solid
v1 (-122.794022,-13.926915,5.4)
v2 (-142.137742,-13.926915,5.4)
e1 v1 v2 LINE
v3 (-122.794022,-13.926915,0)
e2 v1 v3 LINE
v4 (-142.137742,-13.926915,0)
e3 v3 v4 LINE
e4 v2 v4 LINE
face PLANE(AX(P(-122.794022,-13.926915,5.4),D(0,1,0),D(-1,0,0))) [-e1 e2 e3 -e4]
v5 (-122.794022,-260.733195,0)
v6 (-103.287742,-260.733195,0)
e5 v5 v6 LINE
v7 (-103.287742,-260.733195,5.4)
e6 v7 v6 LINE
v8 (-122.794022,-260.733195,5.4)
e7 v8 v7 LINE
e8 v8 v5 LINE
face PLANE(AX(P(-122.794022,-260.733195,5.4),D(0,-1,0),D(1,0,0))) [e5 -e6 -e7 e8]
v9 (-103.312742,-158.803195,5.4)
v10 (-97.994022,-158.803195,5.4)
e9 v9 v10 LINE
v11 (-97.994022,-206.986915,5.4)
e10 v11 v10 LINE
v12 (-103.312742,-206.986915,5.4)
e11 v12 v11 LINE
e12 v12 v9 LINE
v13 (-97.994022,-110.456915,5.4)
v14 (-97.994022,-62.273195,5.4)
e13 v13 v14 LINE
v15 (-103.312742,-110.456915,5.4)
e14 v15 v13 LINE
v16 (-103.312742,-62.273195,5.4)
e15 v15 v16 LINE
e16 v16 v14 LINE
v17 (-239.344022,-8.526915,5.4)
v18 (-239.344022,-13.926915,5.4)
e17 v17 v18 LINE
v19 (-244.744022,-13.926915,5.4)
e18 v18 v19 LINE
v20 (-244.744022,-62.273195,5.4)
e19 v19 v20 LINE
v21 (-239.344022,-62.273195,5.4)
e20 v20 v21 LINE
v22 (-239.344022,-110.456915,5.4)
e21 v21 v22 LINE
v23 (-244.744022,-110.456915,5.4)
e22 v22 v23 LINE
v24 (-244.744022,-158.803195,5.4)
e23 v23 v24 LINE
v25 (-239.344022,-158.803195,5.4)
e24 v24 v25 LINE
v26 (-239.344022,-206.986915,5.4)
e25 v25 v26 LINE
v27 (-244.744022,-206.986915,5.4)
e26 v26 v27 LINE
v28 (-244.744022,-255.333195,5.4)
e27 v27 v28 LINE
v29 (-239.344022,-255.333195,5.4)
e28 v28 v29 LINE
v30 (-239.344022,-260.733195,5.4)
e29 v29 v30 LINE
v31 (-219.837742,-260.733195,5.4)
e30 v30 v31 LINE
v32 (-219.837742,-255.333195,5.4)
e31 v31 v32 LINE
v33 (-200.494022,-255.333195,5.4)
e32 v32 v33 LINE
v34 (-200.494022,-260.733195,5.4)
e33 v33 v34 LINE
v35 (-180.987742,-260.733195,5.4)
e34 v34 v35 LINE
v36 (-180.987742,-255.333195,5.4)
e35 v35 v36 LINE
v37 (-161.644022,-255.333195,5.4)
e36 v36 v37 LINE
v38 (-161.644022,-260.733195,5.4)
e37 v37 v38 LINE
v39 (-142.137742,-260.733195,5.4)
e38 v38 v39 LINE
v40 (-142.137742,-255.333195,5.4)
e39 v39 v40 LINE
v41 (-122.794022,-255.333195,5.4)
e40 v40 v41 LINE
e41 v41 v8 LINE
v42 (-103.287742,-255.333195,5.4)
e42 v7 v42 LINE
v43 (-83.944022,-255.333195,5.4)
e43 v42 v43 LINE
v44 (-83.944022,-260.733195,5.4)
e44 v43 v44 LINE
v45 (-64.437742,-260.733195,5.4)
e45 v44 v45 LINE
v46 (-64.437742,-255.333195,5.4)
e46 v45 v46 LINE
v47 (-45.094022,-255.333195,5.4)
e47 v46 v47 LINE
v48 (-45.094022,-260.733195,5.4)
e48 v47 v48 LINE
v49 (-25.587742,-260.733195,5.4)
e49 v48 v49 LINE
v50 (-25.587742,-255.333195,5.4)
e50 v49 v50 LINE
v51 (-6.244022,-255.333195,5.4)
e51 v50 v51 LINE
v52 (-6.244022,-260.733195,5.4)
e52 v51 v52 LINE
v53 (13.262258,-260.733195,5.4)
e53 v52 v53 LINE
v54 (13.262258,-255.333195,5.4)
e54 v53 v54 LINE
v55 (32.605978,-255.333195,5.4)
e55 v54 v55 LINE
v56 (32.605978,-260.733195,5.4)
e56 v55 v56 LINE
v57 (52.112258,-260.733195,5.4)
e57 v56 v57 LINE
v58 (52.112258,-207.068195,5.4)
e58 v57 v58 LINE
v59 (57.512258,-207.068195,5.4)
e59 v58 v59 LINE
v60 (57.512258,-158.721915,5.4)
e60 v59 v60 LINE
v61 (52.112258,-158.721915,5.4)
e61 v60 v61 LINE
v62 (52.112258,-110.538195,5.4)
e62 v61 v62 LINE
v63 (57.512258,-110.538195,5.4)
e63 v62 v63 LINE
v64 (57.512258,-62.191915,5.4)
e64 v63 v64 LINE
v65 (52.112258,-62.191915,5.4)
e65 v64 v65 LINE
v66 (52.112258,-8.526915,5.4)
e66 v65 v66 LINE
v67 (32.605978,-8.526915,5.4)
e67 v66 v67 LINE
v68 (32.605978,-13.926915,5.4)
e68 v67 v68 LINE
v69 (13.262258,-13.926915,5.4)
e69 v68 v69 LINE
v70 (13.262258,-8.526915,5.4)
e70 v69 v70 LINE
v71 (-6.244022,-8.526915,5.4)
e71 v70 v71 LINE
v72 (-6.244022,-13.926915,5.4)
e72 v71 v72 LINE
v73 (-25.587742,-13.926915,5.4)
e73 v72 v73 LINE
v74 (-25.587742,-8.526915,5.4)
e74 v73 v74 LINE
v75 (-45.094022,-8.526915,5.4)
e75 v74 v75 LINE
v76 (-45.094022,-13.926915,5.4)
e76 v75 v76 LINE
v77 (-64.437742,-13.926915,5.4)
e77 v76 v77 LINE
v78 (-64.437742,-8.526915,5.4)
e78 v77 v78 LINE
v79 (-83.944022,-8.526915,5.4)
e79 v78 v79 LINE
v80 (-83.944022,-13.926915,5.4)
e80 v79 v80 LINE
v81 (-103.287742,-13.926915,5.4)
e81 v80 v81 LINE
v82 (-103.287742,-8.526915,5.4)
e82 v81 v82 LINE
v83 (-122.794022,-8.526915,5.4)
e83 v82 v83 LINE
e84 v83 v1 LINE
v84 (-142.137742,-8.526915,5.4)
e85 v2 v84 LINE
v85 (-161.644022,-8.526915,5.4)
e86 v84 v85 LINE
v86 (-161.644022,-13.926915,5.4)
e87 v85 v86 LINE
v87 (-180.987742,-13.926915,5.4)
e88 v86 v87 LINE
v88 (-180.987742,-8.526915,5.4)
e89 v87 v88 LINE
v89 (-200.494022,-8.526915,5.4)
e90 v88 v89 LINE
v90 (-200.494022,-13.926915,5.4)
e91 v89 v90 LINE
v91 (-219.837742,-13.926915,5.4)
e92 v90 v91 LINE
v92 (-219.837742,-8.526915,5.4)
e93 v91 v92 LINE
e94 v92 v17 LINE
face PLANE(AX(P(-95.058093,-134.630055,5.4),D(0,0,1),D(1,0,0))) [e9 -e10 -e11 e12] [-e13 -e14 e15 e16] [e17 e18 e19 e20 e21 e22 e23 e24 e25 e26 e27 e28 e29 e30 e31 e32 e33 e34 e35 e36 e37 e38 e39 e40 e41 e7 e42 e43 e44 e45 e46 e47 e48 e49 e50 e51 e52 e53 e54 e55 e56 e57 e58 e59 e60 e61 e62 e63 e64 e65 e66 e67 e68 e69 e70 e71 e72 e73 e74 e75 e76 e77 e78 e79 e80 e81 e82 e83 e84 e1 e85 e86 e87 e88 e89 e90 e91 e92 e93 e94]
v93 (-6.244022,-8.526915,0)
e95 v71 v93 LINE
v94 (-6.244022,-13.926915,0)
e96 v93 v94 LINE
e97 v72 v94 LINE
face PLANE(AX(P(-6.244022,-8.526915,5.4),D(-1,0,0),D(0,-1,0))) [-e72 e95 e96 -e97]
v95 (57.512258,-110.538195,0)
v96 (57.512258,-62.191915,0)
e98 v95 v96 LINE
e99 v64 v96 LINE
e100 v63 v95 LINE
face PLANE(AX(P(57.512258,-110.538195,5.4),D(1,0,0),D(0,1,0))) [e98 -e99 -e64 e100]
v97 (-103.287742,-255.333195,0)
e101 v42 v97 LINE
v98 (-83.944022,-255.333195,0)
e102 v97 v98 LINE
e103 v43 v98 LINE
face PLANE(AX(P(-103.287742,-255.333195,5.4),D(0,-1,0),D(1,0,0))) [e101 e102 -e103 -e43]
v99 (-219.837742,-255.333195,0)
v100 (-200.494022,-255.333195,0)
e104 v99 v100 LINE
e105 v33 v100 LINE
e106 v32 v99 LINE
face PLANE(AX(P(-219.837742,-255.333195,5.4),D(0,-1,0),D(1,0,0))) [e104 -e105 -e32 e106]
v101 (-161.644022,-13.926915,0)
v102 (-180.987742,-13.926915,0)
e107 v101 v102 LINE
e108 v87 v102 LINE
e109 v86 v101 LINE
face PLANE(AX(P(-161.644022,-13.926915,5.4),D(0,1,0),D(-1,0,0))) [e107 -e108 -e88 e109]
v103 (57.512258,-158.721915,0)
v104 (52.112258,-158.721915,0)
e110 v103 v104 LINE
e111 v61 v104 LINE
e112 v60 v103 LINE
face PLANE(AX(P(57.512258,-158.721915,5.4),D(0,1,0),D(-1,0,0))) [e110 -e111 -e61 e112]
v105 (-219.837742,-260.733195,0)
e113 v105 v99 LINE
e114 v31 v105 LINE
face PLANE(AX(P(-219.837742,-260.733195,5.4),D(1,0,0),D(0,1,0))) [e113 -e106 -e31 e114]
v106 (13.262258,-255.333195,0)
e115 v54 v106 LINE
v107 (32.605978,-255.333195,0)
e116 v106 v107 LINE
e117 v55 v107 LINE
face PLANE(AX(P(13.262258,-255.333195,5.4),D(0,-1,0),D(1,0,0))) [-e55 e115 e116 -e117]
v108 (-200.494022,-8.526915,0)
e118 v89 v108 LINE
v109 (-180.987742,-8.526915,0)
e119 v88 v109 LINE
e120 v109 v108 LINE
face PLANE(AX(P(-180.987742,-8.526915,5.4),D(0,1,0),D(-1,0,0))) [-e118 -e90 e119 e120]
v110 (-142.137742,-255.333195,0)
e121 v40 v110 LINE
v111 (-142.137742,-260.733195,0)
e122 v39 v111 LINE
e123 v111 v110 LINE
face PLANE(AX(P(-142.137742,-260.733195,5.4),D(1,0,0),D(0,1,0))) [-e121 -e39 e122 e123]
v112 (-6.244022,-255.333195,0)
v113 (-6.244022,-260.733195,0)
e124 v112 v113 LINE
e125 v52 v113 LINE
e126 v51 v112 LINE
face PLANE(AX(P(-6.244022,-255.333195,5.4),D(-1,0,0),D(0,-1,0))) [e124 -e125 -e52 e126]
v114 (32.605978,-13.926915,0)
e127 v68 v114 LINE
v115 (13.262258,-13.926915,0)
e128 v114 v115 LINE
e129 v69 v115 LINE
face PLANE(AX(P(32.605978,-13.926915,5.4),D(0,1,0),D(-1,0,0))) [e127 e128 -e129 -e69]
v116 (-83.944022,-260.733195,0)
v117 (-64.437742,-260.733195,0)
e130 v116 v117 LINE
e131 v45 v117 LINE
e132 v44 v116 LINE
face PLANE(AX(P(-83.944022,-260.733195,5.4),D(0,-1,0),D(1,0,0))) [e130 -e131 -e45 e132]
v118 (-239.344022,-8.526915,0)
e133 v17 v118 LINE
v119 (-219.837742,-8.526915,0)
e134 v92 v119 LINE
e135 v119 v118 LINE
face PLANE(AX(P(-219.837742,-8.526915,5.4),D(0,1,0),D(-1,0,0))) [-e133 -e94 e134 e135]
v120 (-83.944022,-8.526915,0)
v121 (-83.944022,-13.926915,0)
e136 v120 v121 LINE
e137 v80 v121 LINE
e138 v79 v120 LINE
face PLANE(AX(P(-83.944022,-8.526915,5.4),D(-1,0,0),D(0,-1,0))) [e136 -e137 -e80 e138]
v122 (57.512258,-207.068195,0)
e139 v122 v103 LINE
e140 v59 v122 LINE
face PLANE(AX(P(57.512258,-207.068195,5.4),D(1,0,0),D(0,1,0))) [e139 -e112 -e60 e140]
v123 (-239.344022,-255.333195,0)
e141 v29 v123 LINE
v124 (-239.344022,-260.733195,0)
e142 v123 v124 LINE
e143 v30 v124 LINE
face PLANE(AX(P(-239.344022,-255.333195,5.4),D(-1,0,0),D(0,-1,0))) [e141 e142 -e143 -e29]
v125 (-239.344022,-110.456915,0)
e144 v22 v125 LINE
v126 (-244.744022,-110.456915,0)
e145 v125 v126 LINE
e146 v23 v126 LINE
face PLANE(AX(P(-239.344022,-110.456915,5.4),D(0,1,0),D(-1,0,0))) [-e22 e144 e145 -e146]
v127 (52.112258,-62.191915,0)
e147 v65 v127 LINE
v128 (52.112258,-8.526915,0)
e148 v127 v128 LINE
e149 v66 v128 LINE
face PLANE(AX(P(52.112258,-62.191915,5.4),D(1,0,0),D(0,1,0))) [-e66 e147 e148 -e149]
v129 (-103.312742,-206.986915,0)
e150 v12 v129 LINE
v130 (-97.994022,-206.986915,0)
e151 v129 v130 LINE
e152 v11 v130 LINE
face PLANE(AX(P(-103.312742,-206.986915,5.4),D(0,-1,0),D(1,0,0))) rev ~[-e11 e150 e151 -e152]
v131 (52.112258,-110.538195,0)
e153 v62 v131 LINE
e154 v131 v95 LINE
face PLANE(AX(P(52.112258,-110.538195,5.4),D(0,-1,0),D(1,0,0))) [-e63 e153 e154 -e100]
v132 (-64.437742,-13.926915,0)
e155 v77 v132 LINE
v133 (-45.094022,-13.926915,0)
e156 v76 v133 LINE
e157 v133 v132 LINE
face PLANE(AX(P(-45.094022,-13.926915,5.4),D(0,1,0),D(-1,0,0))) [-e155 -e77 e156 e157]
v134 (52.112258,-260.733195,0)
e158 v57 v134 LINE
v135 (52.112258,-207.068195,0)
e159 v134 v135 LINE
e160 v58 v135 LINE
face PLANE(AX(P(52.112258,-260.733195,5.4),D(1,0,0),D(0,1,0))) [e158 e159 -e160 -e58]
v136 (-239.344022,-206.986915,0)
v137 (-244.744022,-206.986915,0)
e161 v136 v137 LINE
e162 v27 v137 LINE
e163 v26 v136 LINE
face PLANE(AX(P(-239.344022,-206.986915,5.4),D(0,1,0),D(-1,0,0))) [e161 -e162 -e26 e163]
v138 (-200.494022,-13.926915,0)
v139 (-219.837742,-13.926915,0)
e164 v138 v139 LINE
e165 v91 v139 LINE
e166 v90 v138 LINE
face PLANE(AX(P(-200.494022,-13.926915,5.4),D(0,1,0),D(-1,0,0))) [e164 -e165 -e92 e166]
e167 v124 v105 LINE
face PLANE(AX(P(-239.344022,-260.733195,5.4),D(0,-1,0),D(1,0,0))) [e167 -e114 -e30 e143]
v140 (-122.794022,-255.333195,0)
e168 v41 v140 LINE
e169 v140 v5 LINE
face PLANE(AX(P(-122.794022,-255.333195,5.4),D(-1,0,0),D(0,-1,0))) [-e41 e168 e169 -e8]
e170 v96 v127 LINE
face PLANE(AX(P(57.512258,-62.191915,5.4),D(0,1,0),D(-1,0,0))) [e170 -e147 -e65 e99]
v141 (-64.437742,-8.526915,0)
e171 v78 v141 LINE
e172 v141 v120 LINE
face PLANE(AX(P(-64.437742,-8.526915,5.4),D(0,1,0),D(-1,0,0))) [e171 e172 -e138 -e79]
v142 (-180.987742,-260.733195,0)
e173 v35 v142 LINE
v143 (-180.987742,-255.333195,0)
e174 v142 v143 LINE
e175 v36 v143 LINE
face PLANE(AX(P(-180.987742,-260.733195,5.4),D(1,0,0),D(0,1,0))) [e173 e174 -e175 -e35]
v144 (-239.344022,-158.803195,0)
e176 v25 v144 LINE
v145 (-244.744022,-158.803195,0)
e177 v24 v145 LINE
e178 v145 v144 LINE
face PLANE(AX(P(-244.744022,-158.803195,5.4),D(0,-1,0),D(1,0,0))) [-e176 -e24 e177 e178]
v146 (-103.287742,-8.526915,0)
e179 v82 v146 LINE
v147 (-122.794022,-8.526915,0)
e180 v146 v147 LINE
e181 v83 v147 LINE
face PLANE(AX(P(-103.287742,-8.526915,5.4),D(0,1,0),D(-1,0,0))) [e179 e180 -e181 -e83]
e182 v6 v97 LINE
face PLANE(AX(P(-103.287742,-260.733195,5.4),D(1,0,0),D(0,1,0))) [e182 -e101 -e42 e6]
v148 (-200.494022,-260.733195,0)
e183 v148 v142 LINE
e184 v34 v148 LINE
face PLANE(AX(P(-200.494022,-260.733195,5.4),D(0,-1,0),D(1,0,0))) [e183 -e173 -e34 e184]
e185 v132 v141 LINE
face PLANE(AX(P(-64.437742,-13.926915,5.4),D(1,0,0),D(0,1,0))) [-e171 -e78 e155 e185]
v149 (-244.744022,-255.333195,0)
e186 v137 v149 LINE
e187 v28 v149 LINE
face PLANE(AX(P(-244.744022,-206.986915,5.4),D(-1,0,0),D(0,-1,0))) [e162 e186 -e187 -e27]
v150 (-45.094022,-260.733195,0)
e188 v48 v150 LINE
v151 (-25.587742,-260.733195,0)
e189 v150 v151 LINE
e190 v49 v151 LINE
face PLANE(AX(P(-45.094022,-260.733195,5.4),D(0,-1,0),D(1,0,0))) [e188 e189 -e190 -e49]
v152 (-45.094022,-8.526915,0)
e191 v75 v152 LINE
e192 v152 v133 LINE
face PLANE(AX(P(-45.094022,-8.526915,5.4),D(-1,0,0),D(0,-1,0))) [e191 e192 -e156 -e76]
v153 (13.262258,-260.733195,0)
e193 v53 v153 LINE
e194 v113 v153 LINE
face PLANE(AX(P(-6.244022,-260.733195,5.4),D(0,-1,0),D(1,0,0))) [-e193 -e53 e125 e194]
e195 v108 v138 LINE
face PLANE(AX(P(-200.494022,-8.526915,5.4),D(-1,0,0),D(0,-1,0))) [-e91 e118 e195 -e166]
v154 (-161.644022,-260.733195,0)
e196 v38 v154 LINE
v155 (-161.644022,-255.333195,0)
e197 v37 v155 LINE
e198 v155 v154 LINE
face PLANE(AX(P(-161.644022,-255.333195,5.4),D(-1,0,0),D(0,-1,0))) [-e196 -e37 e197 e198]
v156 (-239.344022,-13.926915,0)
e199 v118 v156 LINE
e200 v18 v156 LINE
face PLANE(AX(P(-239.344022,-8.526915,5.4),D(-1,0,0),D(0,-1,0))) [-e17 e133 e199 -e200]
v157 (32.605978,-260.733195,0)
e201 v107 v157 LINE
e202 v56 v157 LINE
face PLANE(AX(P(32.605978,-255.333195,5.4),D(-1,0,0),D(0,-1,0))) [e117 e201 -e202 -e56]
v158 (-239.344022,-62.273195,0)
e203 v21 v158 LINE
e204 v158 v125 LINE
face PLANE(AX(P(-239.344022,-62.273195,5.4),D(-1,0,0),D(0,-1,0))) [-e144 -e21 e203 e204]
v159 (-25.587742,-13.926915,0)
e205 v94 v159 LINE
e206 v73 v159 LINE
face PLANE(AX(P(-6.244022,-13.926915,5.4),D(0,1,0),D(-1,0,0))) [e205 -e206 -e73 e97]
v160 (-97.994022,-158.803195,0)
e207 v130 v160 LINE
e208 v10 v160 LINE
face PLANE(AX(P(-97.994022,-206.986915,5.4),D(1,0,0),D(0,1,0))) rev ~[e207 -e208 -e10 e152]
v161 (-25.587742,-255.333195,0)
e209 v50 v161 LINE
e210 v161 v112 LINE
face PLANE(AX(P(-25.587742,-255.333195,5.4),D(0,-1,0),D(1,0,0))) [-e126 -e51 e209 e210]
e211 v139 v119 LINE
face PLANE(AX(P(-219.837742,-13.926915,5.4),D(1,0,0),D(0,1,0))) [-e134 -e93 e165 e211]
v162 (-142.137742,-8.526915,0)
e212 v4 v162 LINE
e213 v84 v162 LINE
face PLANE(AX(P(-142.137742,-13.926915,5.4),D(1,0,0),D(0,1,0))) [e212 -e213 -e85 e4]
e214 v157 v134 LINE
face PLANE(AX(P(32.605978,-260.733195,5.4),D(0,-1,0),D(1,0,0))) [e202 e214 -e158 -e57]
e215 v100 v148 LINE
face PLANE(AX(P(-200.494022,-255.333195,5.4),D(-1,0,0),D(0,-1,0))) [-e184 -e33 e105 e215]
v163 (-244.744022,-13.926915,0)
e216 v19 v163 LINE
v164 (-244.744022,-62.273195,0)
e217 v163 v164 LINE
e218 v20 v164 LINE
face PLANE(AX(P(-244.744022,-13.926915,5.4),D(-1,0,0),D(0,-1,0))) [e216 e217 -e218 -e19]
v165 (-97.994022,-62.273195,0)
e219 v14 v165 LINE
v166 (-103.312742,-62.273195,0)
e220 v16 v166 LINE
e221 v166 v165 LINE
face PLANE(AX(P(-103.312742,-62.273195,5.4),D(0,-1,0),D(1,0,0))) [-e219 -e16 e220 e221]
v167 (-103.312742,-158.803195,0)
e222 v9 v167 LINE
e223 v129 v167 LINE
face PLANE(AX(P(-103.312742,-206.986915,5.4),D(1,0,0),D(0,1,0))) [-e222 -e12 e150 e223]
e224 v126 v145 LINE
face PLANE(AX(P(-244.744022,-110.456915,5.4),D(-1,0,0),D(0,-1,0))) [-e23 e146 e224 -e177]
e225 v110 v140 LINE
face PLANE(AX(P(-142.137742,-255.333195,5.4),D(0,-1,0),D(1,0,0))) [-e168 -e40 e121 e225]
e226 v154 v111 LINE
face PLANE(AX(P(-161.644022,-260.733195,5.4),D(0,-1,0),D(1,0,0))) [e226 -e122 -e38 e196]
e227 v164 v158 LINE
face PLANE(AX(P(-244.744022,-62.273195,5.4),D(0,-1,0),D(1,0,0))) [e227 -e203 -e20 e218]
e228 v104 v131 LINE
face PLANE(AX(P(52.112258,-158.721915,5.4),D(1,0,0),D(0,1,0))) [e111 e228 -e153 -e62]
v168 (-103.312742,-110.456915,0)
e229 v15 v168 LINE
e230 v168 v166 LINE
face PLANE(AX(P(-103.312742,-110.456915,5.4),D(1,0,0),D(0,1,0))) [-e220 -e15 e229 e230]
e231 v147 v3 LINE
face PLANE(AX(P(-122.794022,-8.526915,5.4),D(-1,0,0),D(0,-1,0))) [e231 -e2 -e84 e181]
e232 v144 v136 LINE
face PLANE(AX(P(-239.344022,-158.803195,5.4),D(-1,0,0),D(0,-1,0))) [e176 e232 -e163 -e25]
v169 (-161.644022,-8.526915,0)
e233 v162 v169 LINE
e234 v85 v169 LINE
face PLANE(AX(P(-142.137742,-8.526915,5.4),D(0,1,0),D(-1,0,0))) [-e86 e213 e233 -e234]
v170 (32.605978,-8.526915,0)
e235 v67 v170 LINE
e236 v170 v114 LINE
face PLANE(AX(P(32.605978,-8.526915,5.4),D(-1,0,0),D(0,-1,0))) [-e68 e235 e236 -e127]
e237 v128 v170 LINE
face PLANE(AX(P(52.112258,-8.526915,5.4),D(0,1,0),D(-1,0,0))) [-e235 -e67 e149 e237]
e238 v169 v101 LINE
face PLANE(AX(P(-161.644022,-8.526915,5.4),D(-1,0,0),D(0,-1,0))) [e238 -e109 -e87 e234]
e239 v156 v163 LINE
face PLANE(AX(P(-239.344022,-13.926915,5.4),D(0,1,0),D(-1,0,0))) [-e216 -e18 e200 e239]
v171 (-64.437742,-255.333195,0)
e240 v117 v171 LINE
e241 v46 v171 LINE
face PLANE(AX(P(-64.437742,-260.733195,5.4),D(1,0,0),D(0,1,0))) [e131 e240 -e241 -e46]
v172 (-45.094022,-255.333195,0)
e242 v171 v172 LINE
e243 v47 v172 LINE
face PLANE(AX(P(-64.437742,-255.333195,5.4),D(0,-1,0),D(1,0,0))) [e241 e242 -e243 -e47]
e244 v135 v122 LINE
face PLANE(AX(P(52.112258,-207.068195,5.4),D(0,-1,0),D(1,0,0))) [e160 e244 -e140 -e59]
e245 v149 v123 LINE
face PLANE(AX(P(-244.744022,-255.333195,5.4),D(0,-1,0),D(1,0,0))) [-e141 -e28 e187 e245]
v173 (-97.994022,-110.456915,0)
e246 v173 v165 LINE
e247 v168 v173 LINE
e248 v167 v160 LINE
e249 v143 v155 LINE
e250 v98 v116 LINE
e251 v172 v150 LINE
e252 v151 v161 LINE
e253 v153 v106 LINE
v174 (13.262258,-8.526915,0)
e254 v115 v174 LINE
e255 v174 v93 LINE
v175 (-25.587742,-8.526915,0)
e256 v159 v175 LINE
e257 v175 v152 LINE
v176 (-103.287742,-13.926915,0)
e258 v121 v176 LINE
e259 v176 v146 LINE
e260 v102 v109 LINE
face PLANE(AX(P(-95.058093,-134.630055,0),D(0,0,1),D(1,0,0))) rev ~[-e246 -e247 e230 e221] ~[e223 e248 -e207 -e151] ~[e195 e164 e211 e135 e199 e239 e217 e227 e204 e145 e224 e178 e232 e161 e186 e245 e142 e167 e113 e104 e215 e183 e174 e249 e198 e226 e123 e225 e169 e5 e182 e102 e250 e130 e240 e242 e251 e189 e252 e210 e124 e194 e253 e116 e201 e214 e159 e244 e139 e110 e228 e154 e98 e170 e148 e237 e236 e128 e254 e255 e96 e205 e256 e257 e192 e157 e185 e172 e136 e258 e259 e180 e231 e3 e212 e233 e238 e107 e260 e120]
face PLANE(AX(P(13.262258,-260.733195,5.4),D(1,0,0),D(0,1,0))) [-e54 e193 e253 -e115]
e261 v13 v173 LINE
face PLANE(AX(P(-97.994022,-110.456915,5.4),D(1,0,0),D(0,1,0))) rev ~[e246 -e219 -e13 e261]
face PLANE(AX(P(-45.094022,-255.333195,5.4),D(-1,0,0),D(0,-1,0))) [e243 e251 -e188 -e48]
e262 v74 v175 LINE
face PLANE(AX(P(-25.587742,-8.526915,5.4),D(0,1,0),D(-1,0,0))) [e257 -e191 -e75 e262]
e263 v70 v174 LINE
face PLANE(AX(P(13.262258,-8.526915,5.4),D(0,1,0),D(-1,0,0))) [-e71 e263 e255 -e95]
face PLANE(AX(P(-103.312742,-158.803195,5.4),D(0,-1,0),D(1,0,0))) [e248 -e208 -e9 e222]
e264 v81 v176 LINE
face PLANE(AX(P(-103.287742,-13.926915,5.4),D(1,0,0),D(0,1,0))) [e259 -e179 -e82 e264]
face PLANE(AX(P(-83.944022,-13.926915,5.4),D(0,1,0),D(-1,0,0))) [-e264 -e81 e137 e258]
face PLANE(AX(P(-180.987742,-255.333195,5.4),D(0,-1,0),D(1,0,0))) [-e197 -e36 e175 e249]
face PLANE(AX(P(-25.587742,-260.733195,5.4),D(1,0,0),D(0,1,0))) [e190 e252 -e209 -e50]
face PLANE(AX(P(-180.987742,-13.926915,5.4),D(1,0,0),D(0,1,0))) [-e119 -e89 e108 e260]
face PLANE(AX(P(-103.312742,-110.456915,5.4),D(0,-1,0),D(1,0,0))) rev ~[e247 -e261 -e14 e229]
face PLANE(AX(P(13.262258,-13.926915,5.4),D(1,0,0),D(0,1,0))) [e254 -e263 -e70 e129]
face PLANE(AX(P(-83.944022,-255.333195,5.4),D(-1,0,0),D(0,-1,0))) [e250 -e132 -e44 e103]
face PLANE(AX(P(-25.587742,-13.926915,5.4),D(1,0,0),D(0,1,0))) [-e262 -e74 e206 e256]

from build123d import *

# Parameters (mm, degrees)
SKETCH1_W           = 5.4
SKETCH1_H           = 48.265
BOSS_EXTRUDE1_DEPTH = 5.4
SKETCH2_W           = 5.31872
SKETCH2_H           = 48.18372
BOSS_EXTRUDE2_DEPTH = 5.4


with BuildPart() as part:
    # Sketch1 → Boss-Extrude1 (new body)
    with BuildSketch(Plane.XY):
        Polygon((-181.028382108, -13.967555325), (-181.028382108, -8.567555325), (-200.453382108, -8.567555325), (-200.453382108, -13.967555325), (-219.878382108, -13.967555325), (-219.878382108, -8.567555325), (-239.303382108, -8.567555325), (-239.303382108, -13.967555325), (-244.703382108, -13.967555325), (-244.703382108, -62.232555325), (-239.303382108, -62.232555325), (-239.303382108, -110.497555325), (-244.703382108, -110.497555325), (-244.703382108, -158.762555325), (-239.303382108, -158.762555325), (-239.303382108, -207.027555325), (-244.703382109, -207.027555325), (-244.703382109, -255.292555325), (-239.303382108, -255.292555325), (-239.303382108, -260.692555325), (-219.878382108, -260.692555325), (-219.878382108, -255.292555325), (-200.453382108, -255.292555325), (-200.453382108, -260.692555325), (-181.028382108, -260.692555325), (-181.028382108, -255.292555325), (-161.603382108, -255.292555325), (-161.603382108, -260.692555325), (-142.178382108, -260.692555325), (-142.178382108, -255.292555325), (-122.753382108, -255.292555325), (-122.753382108, -260.692555325), (-103.328382108, -260.692555325), (-103.328382108, -255.292555325), (-83.903382108, -255.292555325), (-83.903382108, -260.692555325), (-64.478382108, -260.692555325), (-64.478382108, -255.292555325), (-45.053382108, -255.292555325), (-45.053382108, -260.692555325), (-25.628382108, -260.692555325), (-25.628382108, -255.292555325), (-6.203382108, -255.292555325), (-6.203382108, -260.692555325), (13.221617892, -260.692555325), (13.221617892, -255.292555325), (32.646617892, -255.292555325), (32.646617892, -260.692555325), (52.071617892, -260.692555325), (52.071617892, -207.027555325), (57.471617892, -207.027555325), (57.471617892, -158.762555325), (52.071617892, -158.762555325), (52.071617892, -110.497555325), (57.471617892, -110.497555325), (57.471617892, -62.232555325), (52.071617892, -62.232555325), (52.071617892, -8.567555325), (32.646617892, -8.567555325), (32.646617892, -13.967555325), (13.221617892, -13.967555325), (13.221617892, -8.567555325), (-6.203382108, -8.567555325), (-6.203382108, -13.967555325), (-25.628382108, -13.967555325), (-25.628382108, -8.567555325), (-45.053382108, -8.567555325), (-45.053382108, -13.967555325), (-64.478382108, -13.967555325), (-64.478382108, -8.567555325), (-83.903382108, -8.567555325), (-83.903382108, -13.967555325), (-103.328382108, -13.967555325), (-103.328382108, -8.567555325), (-122.753382108, -8.567555325), (-122.753382108, -13.967555325), (-142.178382108, -13.967555325), (-142.178382108, -8.567555325), (-161.603382108, -8.567555325), (-161.603382108, -13.967555325), align=None)
        with Locations((-100.653382108, -182.895055325)):
            Rectangle(SKETCH1_W, SKETCH1_H, mode=Mode.SUBTRACT)
        with Locations((-100.653382108, -86.365055325)):
            Rectangle(SKETCH1_W, SKETCH1_H, mode=Mode.SUBTRACT)
    extrude(amount=BOSS_EXTRUDE1_DEPTH)

    # Sketch2 → Boss-Extrude2 (add)
    with BuildSketch(Plane.XY.offset(5.4)):
        Polygon((-239.344022108, -8.526915325), (-239.344022108, -13.926915325), (-244.744022108, -13.926915325), (-244.744022108, -62.273195325), (-239.344022108, -62.273195325), (-239.344022108, -110.456915325), (-244.744022108, -110.456915325), (-244.744022108, -158.803195325), (-239.344022108, -158.803195325), (-239.344022108, -206.986915325), (-244.744022109, -206.986915325), (-244.744022109, -255.333195325), (-239.344022108, -255.333195325), (-239.344022108, -260.733195325), (-219.837742108, -260.733195325), (-219.837742108, -255.333195325), (-200.494022108, -255.333195325), (-200.494022108, -260.733195325), (-180.987742108, -260.733195325), (-180.987742108, -255.333195325), (-161.644022108, -255.333195325), (-161.644022108, -260.733195325), (-142.137742108, -260.733195325), (-142.137742108, -255.333195325), (-122.794022108, -255.333195325), (-122.794022108, -260.733195325), (-103.287742108, -260.733195325), (-103.287742108, -255.333195325), (-83.944022108, -255.333195325), (-83.944022108, -260.733195325), (-64.437742108, -260.733195325), (-64.437742108, -255.333195325), (-45.094022108, -255.333195325), (-45.094022108, -260.733195325), (-25.587742108, -260.733195325), (-25.587742108, -255.333195325), (-6.244022108, -255.333195325), (-6.244022108, -260.733195325), (13.262257892, -260.733195325), (13.262257892, -255.333195325), (32.605977892, -255.333195325), (32.605977892, -260.733195325), (52.112257892, -260.733195325), (52.112257892, -207.068195325), (57.512257892, -207.068195325), (57.512257892, -158.721915325), (52.112257892, -158.721915325), (52.112257892, -110.538195325), (57.512257892, -110.538195325), (57.512257892, -62.191915325), (52.112257892, -62.191915325), (52.112257892, -8.526915325), (32.605977892, -8.526915325), (32.605977892, -13.926915325), (13.262257892, -13.926915325), (13.262257892, -8.526915325), (-6.244022108, -8.526915325), (-6.244022108, -13.926915325), (-25.587742108, -13.926915325), (-25.587742108, -8.526915325), (-45.094022108, -8.526915325), (-45.094022108, -13.926915325), (-64.437742108, -13.926915325), (-64.437742108, -8.526915325), (-83.944022108, -8.526915325), (-83.944022108, -13.926915325), (-103.287742108, -13.926915325), (-103.287742108, -8.526915325), (-122.794022108, -8.526915325), (-122.794022108, -13.926915325), (-142.137742108, -13.926915325), (-142.137742108, -8.526915325), (-161.644022108, -8.526915325), (-161.644022108, -13.926915325), (-180.987742108, -13.926915325), (-180.987742108, -8.526915325), (-200.494022108, -8.526915325), (-200.494022108, -13.926915325), (-219.837742108, -13.926915325), (-219.837742108, -8.526915325), align=None)
        with Locations((-100.653382108, -86.365055325)):
            Rectangle(SKETCH2_W, SKETCH2_H, mode=Mode.SUBTRACT)
        with Locations((-100.653382108, -182.895055325)):
            Rectangle(SKETCH2_W, SKETCH2_H, mode=Mode.SUBTRACT)
    extrude(amount=-BOSS_EXTRUDE2_DEPTH)


solid = part.part
